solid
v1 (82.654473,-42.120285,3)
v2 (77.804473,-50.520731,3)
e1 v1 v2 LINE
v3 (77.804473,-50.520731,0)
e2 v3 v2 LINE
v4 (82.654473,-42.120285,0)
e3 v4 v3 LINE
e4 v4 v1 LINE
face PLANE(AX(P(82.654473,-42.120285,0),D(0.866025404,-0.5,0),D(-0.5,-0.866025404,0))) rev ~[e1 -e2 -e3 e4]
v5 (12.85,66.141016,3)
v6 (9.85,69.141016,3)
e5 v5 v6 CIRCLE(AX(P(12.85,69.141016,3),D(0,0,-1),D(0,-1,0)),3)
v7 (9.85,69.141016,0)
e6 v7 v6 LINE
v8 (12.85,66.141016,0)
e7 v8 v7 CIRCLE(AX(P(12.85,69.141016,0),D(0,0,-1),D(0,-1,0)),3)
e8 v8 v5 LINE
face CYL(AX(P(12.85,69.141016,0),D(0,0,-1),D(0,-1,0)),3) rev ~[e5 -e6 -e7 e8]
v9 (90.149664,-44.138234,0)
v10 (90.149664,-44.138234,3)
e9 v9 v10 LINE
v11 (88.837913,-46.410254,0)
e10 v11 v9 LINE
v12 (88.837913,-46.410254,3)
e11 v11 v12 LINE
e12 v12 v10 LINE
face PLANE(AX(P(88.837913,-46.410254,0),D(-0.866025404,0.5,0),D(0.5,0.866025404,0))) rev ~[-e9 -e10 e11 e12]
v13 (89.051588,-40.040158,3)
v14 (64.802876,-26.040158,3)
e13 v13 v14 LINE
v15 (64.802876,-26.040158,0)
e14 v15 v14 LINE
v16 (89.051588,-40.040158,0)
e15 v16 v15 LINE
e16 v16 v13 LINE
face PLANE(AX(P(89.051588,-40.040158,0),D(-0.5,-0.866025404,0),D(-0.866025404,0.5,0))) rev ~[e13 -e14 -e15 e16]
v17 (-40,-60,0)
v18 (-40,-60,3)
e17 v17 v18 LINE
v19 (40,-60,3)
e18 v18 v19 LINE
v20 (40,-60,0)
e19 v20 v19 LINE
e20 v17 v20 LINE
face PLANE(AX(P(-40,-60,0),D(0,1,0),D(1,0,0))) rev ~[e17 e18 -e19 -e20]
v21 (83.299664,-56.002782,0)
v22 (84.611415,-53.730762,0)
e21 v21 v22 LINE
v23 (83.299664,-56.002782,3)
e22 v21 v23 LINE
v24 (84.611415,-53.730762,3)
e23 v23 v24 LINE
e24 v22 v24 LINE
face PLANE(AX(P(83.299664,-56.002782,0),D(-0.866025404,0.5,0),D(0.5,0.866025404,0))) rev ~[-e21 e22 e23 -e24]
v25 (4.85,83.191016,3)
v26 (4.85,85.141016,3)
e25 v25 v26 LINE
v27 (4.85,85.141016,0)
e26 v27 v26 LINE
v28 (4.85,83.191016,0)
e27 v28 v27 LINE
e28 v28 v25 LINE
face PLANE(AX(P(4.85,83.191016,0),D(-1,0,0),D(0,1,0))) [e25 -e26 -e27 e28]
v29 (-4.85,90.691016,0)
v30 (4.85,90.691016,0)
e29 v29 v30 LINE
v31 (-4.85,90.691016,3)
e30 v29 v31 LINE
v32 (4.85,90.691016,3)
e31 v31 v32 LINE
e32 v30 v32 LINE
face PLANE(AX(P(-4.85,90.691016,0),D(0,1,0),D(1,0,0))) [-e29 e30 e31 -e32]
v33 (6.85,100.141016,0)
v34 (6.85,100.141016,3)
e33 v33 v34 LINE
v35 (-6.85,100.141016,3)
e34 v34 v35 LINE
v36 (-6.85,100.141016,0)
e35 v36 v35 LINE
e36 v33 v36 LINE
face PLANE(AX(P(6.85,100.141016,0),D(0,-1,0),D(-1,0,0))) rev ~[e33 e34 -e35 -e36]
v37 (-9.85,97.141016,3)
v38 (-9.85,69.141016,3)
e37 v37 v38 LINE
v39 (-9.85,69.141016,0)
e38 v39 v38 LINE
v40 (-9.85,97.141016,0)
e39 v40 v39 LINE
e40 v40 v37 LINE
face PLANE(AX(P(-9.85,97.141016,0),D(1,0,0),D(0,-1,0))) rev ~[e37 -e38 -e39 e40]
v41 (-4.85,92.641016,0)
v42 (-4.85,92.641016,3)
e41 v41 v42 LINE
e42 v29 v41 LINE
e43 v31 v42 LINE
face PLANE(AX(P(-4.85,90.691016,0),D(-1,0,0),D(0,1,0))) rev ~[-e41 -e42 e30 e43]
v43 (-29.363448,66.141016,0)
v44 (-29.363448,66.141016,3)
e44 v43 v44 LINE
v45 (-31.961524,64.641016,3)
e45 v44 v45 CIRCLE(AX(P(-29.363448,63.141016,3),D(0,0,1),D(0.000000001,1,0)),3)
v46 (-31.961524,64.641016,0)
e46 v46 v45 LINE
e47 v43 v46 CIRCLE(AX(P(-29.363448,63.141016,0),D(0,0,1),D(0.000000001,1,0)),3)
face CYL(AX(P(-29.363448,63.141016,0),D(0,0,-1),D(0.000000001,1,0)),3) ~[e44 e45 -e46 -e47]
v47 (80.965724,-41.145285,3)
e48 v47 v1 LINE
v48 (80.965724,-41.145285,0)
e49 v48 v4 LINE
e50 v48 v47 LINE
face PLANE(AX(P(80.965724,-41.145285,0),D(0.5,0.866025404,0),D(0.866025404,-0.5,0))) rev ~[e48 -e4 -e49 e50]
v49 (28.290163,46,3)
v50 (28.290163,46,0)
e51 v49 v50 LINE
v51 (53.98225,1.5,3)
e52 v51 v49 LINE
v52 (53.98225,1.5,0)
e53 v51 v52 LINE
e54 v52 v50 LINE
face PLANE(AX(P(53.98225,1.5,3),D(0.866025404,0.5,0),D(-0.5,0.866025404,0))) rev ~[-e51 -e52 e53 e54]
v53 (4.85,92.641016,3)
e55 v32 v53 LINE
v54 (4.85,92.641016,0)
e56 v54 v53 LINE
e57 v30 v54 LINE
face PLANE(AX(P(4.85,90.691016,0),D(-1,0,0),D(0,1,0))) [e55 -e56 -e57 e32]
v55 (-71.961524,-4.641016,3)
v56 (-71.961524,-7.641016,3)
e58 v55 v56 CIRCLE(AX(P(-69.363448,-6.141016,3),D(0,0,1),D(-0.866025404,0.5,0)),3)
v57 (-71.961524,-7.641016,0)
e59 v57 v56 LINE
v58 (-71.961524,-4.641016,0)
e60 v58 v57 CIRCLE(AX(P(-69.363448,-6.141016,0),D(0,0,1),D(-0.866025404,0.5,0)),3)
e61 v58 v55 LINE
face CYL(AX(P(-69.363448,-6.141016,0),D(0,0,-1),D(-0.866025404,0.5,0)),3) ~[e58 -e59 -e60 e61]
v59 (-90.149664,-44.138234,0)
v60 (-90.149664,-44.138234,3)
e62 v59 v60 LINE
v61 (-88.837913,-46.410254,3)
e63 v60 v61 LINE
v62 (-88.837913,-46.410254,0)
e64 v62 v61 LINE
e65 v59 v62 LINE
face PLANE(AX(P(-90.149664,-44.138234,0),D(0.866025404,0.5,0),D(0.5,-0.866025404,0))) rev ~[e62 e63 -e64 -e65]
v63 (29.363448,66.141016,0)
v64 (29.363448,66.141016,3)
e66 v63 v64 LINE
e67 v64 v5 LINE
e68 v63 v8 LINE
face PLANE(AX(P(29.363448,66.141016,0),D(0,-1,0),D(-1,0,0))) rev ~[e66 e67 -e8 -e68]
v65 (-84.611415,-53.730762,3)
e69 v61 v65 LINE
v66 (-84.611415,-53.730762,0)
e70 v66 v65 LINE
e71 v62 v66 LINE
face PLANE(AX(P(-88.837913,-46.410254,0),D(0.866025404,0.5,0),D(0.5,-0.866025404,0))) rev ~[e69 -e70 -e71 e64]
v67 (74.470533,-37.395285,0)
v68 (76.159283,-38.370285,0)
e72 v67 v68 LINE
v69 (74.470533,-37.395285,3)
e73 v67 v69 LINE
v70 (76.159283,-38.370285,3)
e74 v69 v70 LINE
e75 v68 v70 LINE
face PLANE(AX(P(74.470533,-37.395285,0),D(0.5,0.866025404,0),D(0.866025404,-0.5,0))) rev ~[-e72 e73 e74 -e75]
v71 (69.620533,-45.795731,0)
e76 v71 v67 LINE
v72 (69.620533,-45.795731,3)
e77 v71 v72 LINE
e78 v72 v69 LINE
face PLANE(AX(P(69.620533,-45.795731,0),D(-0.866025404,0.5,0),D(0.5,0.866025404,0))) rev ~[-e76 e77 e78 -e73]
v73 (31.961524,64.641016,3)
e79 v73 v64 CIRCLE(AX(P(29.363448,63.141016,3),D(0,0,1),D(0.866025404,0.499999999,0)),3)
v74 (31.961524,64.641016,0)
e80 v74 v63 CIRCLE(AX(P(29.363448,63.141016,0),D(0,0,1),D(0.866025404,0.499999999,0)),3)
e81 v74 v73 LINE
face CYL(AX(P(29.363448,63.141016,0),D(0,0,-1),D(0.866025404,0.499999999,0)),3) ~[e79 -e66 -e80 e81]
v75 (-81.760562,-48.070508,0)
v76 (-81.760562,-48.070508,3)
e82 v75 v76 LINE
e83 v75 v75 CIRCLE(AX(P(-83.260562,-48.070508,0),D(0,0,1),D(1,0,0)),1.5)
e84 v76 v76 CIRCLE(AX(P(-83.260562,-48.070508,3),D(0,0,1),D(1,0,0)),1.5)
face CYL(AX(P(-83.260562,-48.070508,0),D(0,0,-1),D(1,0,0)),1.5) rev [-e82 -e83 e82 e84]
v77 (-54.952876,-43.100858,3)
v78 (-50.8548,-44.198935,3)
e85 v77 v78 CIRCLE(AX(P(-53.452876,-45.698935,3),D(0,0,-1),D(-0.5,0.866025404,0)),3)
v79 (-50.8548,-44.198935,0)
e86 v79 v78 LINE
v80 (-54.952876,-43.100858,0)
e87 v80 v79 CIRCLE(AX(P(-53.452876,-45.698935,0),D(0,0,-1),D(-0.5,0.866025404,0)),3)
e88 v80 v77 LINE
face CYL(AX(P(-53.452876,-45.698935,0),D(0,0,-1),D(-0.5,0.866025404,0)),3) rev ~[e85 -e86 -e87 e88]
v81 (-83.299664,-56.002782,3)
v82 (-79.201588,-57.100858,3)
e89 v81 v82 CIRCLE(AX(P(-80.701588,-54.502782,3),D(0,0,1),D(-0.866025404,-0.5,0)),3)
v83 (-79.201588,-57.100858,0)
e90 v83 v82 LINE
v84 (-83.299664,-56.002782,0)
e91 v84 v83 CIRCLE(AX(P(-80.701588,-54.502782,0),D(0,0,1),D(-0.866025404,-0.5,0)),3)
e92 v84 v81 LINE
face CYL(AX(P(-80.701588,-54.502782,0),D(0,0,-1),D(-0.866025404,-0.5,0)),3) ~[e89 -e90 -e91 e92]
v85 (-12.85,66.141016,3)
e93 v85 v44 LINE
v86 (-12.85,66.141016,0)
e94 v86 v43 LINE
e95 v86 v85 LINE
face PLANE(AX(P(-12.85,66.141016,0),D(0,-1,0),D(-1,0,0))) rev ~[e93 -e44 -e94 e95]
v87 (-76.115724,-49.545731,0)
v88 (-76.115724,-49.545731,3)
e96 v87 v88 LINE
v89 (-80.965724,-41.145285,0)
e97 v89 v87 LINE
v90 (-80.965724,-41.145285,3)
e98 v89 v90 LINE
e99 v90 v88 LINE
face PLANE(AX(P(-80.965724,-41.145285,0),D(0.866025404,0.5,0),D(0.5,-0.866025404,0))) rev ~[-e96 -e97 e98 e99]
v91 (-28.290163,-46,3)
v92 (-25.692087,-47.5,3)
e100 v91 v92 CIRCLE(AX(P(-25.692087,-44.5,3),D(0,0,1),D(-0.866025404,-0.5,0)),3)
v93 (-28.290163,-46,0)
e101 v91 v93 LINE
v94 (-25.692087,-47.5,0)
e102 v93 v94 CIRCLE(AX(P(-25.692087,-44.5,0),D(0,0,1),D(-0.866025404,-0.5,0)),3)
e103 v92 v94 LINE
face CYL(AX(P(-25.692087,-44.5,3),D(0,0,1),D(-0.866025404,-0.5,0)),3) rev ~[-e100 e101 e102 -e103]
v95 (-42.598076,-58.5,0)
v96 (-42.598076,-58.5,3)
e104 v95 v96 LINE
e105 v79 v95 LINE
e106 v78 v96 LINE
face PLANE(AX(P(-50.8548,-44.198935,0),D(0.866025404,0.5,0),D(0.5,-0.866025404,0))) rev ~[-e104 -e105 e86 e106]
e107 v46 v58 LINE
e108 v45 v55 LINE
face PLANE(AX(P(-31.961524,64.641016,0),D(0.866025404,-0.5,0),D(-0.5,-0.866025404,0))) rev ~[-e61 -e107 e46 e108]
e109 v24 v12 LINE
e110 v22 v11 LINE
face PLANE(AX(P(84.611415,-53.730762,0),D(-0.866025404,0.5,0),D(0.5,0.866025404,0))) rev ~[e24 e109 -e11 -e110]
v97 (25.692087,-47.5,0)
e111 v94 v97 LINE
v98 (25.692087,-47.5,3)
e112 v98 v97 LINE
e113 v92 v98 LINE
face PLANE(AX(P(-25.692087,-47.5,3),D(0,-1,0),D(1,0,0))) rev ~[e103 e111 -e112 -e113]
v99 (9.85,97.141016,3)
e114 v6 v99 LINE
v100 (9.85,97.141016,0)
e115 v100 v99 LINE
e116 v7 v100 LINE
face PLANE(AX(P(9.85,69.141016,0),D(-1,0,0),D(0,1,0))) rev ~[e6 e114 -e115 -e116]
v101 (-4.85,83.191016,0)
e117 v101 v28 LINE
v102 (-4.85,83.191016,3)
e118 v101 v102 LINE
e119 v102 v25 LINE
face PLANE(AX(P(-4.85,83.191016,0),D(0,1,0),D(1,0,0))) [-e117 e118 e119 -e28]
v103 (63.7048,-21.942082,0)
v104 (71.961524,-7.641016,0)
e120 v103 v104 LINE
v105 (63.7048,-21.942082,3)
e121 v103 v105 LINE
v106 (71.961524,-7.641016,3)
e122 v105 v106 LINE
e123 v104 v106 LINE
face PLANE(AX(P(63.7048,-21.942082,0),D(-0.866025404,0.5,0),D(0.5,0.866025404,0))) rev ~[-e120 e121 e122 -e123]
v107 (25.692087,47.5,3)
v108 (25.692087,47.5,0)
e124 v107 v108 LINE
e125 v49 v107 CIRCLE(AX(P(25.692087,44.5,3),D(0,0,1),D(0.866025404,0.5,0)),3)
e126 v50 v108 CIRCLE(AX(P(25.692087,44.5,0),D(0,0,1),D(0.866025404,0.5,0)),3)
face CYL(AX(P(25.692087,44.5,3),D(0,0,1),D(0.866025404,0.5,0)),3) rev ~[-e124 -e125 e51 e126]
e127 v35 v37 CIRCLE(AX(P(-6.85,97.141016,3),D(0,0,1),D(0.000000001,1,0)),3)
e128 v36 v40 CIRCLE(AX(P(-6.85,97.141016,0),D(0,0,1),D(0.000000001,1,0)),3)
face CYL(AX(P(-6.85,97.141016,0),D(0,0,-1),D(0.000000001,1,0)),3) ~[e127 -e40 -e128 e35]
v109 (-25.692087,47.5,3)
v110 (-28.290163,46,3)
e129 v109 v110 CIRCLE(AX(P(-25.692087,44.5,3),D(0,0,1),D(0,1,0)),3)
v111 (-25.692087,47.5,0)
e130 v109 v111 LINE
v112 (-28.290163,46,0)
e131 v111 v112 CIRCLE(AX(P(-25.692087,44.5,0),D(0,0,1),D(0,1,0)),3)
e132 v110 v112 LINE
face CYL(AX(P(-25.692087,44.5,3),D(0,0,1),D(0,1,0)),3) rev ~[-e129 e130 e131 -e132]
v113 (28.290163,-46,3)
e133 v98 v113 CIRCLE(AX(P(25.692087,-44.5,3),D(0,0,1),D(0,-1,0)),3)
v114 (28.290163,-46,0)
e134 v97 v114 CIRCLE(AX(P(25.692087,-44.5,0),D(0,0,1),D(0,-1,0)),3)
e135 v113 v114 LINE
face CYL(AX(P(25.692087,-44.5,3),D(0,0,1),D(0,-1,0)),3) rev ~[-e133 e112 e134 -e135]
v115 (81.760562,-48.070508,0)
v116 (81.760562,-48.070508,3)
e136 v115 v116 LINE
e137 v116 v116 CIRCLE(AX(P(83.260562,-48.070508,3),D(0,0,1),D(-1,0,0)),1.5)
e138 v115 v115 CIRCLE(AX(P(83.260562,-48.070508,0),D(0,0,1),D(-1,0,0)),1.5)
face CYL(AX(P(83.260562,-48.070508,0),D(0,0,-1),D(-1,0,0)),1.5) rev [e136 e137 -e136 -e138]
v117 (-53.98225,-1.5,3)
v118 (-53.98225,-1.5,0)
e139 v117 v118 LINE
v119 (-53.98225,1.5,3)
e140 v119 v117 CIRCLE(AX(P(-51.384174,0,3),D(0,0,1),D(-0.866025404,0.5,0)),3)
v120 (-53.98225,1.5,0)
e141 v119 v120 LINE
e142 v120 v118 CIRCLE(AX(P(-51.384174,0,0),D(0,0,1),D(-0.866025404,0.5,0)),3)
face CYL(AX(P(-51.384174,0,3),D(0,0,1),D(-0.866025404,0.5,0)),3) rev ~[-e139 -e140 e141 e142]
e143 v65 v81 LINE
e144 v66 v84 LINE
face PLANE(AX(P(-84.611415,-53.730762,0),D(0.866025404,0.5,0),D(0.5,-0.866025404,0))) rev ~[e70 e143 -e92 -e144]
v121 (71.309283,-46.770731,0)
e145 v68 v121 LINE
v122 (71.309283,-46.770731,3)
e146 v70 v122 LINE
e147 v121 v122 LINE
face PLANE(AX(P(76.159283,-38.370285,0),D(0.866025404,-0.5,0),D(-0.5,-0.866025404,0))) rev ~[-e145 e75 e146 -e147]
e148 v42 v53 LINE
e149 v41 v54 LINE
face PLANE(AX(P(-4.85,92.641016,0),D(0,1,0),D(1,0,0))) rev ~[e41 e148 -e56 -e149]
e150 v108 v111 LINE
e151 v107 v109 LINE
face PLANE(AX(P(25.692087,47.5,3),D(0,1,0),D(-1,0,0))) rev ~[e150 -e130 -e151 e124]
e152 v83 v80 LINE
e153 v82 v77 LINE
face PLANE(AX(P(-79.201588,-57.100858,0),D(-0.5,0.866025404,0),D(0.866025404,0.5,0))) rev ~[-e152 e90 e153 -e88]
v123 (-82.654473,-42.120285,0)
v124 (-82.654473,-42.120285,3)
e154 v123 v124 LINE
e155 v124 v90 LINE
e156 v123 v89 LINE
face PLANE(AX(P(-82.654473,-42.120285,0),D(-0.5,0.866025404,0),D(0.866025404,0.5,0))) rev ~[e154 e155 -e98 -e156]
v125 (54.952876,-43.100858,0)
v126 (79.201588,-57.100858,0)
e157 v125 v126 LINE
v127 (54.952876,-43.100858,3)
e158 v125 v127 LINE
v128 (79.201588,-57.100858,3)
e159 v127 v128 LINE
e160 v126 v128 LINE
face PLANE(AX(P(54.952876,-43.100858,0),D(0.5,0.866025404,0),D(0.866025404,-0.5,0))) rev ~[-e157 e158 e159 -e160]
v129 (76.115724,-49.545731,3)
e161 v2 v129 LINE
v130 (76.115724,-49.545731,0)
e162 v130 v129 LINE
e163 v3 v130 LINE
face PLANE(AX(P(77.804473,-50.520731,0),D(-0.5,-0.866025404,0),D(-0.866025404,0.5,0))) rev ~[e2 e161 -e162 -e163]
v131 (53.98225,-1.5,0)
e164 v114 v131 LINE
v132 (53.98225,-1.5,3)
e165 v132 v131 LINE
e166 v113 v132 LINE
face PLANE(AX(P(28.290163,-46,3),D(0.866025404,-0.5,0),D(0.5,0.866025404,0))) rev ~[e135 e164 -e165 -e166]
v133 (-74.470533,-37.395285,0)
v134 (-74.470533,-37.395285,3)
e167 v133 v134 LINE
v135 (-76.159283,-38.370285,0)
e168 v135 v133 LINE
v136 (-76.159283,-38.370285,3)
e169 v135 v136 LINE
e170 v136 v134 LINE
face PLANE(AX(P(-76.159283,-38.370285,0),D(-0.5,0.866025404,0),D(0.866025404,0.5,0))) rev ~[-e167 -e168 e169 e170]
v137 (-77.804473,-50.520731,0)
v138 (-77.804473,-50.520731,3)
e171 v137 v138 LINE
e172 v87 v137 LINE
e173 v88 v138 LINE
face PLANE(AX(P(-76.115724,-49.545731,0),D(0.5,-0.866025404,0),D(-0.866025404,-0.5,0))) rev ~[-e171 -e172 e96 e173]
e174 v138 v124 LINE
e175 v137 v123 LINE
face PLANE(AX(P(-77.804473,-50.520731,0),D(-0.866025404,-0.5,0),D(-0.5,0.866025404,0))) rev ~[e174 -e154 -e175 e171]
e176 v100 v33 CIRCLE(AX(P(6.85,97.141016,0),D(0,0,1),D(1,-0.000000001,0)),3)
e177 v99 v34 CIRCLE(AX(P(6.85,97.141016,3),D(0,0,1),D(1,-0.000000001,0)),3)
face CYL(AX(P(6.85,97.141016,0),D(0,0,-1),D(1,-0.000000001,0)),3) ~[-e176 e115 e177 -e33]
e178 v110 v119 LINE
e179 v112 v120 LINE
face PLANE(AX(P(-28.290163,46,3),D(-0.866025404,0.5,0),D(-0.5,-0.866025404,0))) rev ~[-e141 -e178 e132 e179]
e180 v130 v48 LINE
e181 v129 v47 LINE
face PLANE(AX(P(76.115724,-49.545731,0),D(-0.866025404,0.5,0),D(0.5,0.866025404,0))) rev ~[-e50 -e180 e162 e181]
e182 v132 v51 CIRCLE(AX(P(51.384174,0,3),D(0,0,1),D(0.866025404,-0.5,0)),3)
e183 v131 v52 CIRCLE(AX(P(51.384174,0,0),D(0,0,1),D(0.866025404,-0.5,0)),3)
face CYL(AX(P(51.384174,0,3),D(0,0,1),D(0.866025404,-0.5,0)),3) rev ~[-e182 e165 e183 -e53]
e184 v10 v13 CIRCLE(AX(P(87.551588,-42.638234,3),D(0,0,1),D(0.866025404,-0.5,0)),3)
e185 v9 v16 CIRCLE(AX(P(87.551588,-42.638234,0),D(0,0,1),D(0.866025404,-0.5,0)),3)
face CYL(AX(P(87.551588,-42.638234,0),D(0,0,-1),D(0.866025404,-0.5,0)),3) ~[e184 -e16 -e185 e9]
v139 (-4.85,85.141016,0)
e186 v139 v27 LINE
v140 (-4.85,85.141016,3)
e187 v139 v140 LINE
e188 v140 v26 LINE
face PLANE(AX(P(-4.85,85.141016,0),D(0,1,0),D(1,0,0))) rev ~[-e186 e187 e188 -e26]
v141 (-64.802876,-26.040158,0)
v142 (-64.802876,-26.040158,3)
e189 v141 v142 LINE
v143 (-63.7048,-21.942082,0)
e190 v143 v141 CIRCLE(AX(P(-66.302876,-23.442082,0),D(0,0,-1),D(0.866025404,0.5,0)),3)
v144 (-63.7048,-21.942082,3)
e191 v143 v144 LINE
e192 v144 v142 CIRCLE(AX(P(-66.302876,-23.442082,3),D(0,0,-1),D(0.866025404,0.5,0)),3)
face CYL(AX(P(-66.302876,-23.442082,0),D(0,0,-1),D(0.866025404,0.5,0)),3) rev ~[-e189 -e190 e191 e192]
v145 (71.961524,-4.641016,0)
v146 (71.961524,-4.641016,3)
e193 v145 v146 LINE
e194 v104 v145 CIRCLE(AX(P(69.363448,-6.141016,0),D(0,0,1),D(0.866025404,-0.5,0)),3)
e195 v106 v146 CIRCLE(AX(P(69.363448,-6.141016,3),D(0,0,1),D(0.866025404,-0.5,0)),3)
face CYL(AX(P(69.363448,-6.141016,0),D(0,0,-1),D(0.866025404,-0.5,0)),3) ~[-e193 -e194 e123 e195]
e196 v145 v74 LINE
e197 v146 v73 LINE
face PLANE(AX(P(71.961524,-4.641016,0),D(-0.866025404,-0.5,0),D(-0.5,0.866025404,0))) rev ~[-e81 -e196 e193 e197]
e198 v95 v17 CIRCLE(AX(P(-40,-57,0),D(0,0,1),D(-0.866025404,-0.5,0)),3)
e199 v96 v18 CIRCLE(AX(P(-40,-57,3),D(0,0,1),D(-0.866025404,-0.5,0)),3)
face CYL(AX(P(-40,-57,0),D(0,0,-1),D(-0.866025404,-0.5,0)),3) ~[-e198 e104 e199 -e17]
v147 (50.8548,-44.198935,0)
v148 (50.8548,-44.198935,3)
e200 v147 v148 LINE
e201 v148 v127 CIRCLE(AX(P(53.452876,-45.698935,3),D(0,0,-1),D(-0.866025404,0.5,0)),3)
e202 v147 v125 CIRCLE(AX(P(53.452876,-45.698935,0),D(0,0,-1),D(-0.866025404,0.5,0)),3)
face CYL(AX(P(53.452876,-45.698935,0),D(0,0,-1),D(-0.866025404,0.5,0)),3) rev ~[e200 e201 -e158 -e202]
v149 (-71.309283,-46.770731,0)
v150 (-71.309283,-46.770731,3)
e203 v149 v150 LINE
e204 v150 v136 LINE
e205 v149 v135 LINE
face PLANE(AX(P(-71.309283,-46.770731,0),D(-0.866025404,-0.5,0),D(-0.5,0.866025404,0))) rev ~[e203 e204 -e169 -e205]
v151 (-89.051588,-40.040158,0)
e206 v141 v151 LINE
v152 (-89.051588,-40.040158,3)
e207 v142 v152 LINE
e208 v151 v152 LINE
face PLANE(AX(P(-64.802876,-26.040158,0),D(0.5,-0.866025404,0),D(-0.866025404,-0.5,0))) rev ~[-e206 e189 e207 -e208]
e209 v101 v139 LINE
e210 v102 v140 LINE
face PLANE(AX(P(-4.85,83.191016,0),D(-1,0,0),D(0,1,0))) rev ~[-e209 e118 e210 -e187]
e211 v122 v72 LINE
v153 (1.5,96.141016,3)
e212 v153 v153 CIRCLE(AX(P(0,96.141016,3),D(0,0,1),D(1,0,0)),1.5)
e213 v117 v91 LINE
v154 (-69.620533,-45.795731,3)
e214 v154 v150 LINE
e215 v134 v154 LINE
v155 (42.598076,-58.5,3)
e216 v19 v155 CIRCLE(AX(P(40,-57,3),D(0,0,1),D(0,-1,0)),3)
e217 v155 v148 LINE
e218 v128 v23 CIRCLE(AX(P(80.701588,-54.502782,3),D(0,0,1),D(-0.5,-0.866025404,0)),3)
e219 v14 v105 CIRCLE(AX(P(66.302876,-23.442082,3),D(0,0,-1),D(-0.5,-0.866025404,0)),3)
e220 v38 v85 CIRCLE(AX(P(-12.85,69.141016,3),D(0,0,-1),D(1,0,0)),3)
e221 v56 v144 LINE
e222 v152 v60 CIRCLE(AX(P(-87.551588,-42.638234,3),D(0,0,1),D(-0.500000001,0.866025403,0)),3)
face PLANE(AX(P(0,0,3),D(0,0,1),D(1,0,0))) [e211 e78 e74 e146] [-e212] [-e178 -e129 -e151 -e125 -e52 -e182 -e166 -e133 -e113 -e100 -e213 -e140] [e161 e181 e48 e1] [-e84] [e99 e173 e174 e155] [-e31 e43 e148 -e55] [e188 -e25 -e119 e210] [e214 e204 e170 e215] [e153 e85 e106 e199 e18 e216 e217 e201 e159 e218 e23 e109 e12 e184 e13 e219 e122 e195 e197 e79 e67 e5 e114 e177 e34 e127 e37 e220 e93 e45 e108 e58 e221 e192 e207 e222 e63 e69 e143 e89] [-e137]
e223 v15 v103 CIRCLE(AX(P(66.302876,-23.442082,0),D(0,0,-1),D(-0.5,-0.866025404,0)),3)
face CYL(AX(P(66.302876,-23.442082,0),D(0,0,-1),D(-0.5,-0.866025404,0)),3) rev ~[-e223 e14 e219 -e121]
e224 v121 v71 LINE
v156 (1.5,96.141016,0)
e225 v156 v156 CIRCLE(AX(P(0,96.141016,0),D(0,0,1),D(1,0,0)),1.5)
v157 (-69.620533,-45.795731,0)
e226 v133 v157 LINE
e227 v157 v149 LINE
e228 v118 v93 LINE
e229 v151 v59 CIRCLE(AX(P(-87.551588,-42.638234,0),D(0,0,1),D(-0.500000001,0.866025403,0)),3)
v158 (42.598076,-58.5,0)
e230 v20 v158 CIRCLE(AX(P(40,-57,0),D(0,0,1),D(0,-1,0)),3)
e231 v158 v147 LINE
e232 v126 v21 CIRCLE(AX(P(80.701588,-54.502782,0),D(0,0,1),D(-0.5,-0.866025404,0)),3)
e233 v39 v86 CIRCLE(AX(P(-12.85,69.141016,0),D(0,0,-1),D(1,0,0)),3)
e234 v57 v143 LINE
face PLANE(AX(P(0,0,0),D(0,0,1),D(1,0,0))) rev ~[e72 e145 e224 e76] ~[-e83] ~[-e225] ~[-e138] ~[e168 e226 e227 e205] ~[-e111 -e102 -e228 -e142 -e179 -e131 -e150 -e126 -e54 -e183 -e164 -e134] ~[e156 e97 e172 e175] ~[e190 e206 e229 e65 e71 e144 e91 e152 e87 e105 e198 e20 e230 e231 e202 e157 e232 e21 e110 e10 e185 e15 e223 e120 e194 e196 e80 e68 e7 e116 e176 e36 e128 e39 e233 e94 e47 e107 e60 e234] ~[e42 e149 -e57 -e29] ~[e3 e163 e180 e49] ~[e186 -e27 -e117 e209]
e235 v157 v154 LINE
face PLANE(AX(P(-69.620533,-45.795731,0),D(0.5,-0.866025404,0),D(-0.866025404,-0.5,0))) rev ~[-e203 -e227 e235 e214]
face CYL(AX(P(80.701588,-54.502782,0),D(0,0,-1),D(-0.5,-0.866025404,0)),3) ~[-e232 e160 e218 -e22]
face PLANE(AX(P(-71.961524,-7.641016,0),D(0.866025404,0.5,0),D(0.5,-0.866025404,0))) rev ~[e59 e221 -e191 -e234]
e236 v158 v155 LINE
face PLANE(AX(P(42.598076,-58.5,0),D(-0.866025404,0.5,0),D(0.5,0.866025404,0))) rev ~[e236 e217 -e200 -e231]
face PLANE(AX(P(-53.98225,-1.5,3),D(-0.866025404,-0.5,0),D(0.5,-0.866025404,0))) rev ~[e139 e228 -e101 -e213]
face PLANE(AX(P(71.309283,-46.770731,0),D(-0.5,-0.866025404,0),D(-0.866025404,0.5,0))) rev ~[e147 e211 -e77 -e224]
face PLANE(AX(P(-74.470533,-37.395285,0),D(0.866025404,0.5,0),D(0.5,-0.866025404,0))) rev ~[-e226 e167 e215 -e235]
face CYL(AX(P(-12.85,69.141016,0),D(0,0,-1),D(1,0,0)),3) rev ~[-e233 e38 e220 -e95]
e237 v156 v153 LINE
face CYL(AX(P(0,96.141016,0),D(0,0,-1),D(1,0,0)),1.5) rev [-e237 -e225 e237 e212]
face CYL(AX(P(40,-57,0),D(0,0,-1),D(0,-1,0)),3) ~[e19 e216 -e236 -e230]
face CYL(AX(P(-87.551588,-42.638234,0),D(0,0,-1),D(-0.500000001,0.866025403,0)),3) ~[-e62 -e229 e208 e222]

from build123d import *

# Parameters (mm, degrees)
SKETCH_1_R          = 1.5
SKETCH_1_W          = 9.7
SKETCH_1_H          = 1.95
EXTRUDE_3_DEPTH     = 3
CUT_EXTRUDE_1_DEPTH = 10


with BuildPart() as part:
    # Эскиз1 → Бобышка-Вытянуть3 (new body)
    with BuildSketch(Plane.XY):
        with BuildLine():
            Line((-88.837912602, -46.410254038), (-84.611415294, -53.730762114))
            Line((-84.611415294, -53.730762114), (-83.299663948, -56.002782092))
            ThreePointArc((-83.299663948, -56.002782092), (-81.478044872, -57.40055957), (-79.201587737, -57.100858303))
            Line((-79.201587737, -57.100858303), (-54.952876431, -43.100858303))
            ThreePointArc((-54.952876431, -43.100858303), (-52.676419295, -42.801157035), (-50.854800219, -44.198934514))
            Line((-50.854800219, -44.198934514), (-42.598076211, -58.5))
            ThreePointArc((-42.598076211, -58.5), (-41.5, -59.598076211), (-40, -60))
            Line((-40, -60), (40, -60))
            ThreePointArc((40, -60), (41.5, -59.598076211), (42.598076211, -58.5))
            Line((42.598076211, -58.5), (50.854800219, -44.198934514))
            ThreePointArc((50.854800219, -44.198934514), (52.676419295, -42.801157035), (54.952876431, -43.100858303))
            Line((54.952876431, -43.100858303), (79.201587737, -57.100858303))
            ThreePointArc((79.201587737, -57.100858303), (81.478044872, -57.40055957), (83.299663948, -56.002782092))
            Line((83.299663948, -56.002782092), (84.611415294, -53.730762114))
            Line((84.611415294, -53.730762114), (88.837912602, -46.410254038))
            Line((88.837912602, -46.410254038), (90.149663948, -44.13823406))
            ThreePointArc((90.149663948, -44.13823406), (90.449365215, -41.861776924), (89.051587737, -40.040157848))
            Line((89.051587737, -40.040157848), (64.802876431, -26.040157848))
            ThreePointArc((64.802876431, -26.040157848), (63.405098952, -24.218538772), (63.704800219, -21.942081637))
            Line((63.704800219, -21.942081637), (71.961524227, -7.641016151))
            ThreePointArc((71.961524227, -7.641016151), (72.363448016, -6.141016151), (71.961524227, -4.641016151))
            Line((71.961524227, -4.641016151), (31.961524227, 64.641016151))
            ThreePointArc((31.961524227, 64.641016151), (30.863448016, 65.739092363), (29.363448016, 66.141016151))
            Line((29.363448016, 66.141016151), (12.85, 66.141016151))
            ThreePointArc((12.85, 66.141016151), (10.728679656, 67.019695808), (9.85, 69.141016151))
            Line((9.85, 69.141016151), (9.85, 97.141016151))
            ThreePointArc((9.85, 97.141016151), (8.971320344, 99.262336495), (6.85, 100.141016151))
            Line((6.85, 100.141016151), (4.226497308, 100.141016151))
            Line((4.226497308, 100.141016151), (-4.226497308, 100.141016151))
            Line((-4.226497308, 100.141016151), (-6.85, 100.141016151))
            ThreePointArc((-6.85, 100.141016151), (-8.971320344, 99.262336495), (-9.85, 97.141016151))
            Line((-9.85, 97.141016151), (-9.85, 69.141016151))
            ThreePointArc((-9.85, 69.141016151), (-10.728679656, 67.019695808), (-12.85, 66.141016151))
            Line((-12.85, 66.141016151), (-29.363448016, 66.141016151))
            ThreePointArc((-29.363448016, 66.141016151), (-30.863448016, 65.739092363), (-31.961524227, 64.641016151))
            Line((-31.961524227, 64.641016151), (-71.961524227, -4.641016151))
            ThreePointArc((-71.961524227, -4.641016151), (-72.363448016, -6.141016151), (-71.961524227, -7.641016151))
            Line((-71.961524227, -7.641016151), (-63.704800219, -21.942081637))
            ThreePointArc((-63.704800219, -21.942081637), (-63.405098952, -24.218538772), (-64.802876431, -26.040157848))
            Line((-64.802876431, -26.040157848), (-89.051587737, -40.040157848))
            ThreePointArc((-89.051587737, -40.040157848), (-90.449365215, -41.861776924), (-90.149663948, -44.13823406))
            Line((-90.149663948, -44.13823406), (-88.837912602, -46.410254038))
        make_face()
        with Locations((-83.260562333, -48.070508076)):
            Circle(SKETCH_1_R, mode=Mode.SUBTRACT)
        with Locations(Location((83.260562333, -48.070508076, 0), (0, 0, 180))):
            Circle(SKETCH_1_R, mode=Mode.SUBTRACT)
        with Locations((0, 96.141016151)):
            Circle(SKETCH_1_R, mode=Mode.SUBTRACT)
        Polygon((-77.804473419, -50.520731284), (-82.654473419, -42.120284867), (-80.965723882, -41.145284867), (-76.115723882, -49.545731284), align=None, mode=Mode.SUBTRACT)
        Polygon((-71.309282891, -46.770731284), (-76.159282891, -38.370284867), (-74.470533354, -37.395284867), (-69.620533354, -45.795731284), align=None, mode=Mode.SUBTRACT)
        Polygon((69.620533354, -45.795731284), (74.470533354, -37.395284867), (76.159282891, -38.370284867), (71.309282891, -46.770731284), align=None, mode=Mode.SUBTRACT)
        Polygon((76.115723882, -49.545731284), (80.965723882, -41.145284867), (82.654473419, -42.120284867), (77.804473419, -50.520731284), align=None, mode=Mode.SUBTRACT)
        with Locations((0, 91.666016151)):
            Rectangle(SKETCH_1_W, SKETCH_1_H, mode=Mode.SUBTRACT)
        with Locations((0, 84.166016151)):
            Rectangle(SKETCH_1_W, SKETCH_1_H, mode=Mode.SUBTRACT)
    extrude(amount=EXTRUDE_3_DEPTH)

    # Эскиз2 → Вырез-Вытянуть1 (cut)
    with BuildSketch(Plane.XY.offset(3)):
        with BuildLine():
            Line((28.29016319, -46), (53.982250169, -1.5))
            ThreePointArc((53.982250169, -1.5), (54.384173958, 0), (53.982250169, 1.5))
            Line((53.982250169, 1.5), (28.29016319, 46))
            ThreePointArc((28.29016319, 46), (27.192086979, 47.098076211), (25.692086979, 47.5))
            Line((25.692086979, 47.5), (-25.692086979, 47.5))
            ThreePointArc((-25.692086979, 47.5), (-27.192086979, 47.098076211), (-28.29016319, 46))
            Line((-28.29016319, 46), (-53.982250169, 1.5))
            ThreePointArc((-53.982250169, 1.5), (-54.384173958, 0), (-53.982250169, -1.5))
            Line((-53.982250169, -1.5), (-28.29016319, -46))
            ThreePointArc((-28.29016319, -46), (-27.192086979, -47.098076211), (-25.692086979, -47.5))
            Line((-25.692086979, -47.5), (25.692086979, -47.5))
            ThreePointArc((25.692086979, -47.5), (27.192086979, -47.098076211), (28.29016319, -46))
        make_face()
    extrude(amount=-CUT_EXTRUDE_1_DEPTH, mode=Mode.SUBTRACT)


solid = part.part
